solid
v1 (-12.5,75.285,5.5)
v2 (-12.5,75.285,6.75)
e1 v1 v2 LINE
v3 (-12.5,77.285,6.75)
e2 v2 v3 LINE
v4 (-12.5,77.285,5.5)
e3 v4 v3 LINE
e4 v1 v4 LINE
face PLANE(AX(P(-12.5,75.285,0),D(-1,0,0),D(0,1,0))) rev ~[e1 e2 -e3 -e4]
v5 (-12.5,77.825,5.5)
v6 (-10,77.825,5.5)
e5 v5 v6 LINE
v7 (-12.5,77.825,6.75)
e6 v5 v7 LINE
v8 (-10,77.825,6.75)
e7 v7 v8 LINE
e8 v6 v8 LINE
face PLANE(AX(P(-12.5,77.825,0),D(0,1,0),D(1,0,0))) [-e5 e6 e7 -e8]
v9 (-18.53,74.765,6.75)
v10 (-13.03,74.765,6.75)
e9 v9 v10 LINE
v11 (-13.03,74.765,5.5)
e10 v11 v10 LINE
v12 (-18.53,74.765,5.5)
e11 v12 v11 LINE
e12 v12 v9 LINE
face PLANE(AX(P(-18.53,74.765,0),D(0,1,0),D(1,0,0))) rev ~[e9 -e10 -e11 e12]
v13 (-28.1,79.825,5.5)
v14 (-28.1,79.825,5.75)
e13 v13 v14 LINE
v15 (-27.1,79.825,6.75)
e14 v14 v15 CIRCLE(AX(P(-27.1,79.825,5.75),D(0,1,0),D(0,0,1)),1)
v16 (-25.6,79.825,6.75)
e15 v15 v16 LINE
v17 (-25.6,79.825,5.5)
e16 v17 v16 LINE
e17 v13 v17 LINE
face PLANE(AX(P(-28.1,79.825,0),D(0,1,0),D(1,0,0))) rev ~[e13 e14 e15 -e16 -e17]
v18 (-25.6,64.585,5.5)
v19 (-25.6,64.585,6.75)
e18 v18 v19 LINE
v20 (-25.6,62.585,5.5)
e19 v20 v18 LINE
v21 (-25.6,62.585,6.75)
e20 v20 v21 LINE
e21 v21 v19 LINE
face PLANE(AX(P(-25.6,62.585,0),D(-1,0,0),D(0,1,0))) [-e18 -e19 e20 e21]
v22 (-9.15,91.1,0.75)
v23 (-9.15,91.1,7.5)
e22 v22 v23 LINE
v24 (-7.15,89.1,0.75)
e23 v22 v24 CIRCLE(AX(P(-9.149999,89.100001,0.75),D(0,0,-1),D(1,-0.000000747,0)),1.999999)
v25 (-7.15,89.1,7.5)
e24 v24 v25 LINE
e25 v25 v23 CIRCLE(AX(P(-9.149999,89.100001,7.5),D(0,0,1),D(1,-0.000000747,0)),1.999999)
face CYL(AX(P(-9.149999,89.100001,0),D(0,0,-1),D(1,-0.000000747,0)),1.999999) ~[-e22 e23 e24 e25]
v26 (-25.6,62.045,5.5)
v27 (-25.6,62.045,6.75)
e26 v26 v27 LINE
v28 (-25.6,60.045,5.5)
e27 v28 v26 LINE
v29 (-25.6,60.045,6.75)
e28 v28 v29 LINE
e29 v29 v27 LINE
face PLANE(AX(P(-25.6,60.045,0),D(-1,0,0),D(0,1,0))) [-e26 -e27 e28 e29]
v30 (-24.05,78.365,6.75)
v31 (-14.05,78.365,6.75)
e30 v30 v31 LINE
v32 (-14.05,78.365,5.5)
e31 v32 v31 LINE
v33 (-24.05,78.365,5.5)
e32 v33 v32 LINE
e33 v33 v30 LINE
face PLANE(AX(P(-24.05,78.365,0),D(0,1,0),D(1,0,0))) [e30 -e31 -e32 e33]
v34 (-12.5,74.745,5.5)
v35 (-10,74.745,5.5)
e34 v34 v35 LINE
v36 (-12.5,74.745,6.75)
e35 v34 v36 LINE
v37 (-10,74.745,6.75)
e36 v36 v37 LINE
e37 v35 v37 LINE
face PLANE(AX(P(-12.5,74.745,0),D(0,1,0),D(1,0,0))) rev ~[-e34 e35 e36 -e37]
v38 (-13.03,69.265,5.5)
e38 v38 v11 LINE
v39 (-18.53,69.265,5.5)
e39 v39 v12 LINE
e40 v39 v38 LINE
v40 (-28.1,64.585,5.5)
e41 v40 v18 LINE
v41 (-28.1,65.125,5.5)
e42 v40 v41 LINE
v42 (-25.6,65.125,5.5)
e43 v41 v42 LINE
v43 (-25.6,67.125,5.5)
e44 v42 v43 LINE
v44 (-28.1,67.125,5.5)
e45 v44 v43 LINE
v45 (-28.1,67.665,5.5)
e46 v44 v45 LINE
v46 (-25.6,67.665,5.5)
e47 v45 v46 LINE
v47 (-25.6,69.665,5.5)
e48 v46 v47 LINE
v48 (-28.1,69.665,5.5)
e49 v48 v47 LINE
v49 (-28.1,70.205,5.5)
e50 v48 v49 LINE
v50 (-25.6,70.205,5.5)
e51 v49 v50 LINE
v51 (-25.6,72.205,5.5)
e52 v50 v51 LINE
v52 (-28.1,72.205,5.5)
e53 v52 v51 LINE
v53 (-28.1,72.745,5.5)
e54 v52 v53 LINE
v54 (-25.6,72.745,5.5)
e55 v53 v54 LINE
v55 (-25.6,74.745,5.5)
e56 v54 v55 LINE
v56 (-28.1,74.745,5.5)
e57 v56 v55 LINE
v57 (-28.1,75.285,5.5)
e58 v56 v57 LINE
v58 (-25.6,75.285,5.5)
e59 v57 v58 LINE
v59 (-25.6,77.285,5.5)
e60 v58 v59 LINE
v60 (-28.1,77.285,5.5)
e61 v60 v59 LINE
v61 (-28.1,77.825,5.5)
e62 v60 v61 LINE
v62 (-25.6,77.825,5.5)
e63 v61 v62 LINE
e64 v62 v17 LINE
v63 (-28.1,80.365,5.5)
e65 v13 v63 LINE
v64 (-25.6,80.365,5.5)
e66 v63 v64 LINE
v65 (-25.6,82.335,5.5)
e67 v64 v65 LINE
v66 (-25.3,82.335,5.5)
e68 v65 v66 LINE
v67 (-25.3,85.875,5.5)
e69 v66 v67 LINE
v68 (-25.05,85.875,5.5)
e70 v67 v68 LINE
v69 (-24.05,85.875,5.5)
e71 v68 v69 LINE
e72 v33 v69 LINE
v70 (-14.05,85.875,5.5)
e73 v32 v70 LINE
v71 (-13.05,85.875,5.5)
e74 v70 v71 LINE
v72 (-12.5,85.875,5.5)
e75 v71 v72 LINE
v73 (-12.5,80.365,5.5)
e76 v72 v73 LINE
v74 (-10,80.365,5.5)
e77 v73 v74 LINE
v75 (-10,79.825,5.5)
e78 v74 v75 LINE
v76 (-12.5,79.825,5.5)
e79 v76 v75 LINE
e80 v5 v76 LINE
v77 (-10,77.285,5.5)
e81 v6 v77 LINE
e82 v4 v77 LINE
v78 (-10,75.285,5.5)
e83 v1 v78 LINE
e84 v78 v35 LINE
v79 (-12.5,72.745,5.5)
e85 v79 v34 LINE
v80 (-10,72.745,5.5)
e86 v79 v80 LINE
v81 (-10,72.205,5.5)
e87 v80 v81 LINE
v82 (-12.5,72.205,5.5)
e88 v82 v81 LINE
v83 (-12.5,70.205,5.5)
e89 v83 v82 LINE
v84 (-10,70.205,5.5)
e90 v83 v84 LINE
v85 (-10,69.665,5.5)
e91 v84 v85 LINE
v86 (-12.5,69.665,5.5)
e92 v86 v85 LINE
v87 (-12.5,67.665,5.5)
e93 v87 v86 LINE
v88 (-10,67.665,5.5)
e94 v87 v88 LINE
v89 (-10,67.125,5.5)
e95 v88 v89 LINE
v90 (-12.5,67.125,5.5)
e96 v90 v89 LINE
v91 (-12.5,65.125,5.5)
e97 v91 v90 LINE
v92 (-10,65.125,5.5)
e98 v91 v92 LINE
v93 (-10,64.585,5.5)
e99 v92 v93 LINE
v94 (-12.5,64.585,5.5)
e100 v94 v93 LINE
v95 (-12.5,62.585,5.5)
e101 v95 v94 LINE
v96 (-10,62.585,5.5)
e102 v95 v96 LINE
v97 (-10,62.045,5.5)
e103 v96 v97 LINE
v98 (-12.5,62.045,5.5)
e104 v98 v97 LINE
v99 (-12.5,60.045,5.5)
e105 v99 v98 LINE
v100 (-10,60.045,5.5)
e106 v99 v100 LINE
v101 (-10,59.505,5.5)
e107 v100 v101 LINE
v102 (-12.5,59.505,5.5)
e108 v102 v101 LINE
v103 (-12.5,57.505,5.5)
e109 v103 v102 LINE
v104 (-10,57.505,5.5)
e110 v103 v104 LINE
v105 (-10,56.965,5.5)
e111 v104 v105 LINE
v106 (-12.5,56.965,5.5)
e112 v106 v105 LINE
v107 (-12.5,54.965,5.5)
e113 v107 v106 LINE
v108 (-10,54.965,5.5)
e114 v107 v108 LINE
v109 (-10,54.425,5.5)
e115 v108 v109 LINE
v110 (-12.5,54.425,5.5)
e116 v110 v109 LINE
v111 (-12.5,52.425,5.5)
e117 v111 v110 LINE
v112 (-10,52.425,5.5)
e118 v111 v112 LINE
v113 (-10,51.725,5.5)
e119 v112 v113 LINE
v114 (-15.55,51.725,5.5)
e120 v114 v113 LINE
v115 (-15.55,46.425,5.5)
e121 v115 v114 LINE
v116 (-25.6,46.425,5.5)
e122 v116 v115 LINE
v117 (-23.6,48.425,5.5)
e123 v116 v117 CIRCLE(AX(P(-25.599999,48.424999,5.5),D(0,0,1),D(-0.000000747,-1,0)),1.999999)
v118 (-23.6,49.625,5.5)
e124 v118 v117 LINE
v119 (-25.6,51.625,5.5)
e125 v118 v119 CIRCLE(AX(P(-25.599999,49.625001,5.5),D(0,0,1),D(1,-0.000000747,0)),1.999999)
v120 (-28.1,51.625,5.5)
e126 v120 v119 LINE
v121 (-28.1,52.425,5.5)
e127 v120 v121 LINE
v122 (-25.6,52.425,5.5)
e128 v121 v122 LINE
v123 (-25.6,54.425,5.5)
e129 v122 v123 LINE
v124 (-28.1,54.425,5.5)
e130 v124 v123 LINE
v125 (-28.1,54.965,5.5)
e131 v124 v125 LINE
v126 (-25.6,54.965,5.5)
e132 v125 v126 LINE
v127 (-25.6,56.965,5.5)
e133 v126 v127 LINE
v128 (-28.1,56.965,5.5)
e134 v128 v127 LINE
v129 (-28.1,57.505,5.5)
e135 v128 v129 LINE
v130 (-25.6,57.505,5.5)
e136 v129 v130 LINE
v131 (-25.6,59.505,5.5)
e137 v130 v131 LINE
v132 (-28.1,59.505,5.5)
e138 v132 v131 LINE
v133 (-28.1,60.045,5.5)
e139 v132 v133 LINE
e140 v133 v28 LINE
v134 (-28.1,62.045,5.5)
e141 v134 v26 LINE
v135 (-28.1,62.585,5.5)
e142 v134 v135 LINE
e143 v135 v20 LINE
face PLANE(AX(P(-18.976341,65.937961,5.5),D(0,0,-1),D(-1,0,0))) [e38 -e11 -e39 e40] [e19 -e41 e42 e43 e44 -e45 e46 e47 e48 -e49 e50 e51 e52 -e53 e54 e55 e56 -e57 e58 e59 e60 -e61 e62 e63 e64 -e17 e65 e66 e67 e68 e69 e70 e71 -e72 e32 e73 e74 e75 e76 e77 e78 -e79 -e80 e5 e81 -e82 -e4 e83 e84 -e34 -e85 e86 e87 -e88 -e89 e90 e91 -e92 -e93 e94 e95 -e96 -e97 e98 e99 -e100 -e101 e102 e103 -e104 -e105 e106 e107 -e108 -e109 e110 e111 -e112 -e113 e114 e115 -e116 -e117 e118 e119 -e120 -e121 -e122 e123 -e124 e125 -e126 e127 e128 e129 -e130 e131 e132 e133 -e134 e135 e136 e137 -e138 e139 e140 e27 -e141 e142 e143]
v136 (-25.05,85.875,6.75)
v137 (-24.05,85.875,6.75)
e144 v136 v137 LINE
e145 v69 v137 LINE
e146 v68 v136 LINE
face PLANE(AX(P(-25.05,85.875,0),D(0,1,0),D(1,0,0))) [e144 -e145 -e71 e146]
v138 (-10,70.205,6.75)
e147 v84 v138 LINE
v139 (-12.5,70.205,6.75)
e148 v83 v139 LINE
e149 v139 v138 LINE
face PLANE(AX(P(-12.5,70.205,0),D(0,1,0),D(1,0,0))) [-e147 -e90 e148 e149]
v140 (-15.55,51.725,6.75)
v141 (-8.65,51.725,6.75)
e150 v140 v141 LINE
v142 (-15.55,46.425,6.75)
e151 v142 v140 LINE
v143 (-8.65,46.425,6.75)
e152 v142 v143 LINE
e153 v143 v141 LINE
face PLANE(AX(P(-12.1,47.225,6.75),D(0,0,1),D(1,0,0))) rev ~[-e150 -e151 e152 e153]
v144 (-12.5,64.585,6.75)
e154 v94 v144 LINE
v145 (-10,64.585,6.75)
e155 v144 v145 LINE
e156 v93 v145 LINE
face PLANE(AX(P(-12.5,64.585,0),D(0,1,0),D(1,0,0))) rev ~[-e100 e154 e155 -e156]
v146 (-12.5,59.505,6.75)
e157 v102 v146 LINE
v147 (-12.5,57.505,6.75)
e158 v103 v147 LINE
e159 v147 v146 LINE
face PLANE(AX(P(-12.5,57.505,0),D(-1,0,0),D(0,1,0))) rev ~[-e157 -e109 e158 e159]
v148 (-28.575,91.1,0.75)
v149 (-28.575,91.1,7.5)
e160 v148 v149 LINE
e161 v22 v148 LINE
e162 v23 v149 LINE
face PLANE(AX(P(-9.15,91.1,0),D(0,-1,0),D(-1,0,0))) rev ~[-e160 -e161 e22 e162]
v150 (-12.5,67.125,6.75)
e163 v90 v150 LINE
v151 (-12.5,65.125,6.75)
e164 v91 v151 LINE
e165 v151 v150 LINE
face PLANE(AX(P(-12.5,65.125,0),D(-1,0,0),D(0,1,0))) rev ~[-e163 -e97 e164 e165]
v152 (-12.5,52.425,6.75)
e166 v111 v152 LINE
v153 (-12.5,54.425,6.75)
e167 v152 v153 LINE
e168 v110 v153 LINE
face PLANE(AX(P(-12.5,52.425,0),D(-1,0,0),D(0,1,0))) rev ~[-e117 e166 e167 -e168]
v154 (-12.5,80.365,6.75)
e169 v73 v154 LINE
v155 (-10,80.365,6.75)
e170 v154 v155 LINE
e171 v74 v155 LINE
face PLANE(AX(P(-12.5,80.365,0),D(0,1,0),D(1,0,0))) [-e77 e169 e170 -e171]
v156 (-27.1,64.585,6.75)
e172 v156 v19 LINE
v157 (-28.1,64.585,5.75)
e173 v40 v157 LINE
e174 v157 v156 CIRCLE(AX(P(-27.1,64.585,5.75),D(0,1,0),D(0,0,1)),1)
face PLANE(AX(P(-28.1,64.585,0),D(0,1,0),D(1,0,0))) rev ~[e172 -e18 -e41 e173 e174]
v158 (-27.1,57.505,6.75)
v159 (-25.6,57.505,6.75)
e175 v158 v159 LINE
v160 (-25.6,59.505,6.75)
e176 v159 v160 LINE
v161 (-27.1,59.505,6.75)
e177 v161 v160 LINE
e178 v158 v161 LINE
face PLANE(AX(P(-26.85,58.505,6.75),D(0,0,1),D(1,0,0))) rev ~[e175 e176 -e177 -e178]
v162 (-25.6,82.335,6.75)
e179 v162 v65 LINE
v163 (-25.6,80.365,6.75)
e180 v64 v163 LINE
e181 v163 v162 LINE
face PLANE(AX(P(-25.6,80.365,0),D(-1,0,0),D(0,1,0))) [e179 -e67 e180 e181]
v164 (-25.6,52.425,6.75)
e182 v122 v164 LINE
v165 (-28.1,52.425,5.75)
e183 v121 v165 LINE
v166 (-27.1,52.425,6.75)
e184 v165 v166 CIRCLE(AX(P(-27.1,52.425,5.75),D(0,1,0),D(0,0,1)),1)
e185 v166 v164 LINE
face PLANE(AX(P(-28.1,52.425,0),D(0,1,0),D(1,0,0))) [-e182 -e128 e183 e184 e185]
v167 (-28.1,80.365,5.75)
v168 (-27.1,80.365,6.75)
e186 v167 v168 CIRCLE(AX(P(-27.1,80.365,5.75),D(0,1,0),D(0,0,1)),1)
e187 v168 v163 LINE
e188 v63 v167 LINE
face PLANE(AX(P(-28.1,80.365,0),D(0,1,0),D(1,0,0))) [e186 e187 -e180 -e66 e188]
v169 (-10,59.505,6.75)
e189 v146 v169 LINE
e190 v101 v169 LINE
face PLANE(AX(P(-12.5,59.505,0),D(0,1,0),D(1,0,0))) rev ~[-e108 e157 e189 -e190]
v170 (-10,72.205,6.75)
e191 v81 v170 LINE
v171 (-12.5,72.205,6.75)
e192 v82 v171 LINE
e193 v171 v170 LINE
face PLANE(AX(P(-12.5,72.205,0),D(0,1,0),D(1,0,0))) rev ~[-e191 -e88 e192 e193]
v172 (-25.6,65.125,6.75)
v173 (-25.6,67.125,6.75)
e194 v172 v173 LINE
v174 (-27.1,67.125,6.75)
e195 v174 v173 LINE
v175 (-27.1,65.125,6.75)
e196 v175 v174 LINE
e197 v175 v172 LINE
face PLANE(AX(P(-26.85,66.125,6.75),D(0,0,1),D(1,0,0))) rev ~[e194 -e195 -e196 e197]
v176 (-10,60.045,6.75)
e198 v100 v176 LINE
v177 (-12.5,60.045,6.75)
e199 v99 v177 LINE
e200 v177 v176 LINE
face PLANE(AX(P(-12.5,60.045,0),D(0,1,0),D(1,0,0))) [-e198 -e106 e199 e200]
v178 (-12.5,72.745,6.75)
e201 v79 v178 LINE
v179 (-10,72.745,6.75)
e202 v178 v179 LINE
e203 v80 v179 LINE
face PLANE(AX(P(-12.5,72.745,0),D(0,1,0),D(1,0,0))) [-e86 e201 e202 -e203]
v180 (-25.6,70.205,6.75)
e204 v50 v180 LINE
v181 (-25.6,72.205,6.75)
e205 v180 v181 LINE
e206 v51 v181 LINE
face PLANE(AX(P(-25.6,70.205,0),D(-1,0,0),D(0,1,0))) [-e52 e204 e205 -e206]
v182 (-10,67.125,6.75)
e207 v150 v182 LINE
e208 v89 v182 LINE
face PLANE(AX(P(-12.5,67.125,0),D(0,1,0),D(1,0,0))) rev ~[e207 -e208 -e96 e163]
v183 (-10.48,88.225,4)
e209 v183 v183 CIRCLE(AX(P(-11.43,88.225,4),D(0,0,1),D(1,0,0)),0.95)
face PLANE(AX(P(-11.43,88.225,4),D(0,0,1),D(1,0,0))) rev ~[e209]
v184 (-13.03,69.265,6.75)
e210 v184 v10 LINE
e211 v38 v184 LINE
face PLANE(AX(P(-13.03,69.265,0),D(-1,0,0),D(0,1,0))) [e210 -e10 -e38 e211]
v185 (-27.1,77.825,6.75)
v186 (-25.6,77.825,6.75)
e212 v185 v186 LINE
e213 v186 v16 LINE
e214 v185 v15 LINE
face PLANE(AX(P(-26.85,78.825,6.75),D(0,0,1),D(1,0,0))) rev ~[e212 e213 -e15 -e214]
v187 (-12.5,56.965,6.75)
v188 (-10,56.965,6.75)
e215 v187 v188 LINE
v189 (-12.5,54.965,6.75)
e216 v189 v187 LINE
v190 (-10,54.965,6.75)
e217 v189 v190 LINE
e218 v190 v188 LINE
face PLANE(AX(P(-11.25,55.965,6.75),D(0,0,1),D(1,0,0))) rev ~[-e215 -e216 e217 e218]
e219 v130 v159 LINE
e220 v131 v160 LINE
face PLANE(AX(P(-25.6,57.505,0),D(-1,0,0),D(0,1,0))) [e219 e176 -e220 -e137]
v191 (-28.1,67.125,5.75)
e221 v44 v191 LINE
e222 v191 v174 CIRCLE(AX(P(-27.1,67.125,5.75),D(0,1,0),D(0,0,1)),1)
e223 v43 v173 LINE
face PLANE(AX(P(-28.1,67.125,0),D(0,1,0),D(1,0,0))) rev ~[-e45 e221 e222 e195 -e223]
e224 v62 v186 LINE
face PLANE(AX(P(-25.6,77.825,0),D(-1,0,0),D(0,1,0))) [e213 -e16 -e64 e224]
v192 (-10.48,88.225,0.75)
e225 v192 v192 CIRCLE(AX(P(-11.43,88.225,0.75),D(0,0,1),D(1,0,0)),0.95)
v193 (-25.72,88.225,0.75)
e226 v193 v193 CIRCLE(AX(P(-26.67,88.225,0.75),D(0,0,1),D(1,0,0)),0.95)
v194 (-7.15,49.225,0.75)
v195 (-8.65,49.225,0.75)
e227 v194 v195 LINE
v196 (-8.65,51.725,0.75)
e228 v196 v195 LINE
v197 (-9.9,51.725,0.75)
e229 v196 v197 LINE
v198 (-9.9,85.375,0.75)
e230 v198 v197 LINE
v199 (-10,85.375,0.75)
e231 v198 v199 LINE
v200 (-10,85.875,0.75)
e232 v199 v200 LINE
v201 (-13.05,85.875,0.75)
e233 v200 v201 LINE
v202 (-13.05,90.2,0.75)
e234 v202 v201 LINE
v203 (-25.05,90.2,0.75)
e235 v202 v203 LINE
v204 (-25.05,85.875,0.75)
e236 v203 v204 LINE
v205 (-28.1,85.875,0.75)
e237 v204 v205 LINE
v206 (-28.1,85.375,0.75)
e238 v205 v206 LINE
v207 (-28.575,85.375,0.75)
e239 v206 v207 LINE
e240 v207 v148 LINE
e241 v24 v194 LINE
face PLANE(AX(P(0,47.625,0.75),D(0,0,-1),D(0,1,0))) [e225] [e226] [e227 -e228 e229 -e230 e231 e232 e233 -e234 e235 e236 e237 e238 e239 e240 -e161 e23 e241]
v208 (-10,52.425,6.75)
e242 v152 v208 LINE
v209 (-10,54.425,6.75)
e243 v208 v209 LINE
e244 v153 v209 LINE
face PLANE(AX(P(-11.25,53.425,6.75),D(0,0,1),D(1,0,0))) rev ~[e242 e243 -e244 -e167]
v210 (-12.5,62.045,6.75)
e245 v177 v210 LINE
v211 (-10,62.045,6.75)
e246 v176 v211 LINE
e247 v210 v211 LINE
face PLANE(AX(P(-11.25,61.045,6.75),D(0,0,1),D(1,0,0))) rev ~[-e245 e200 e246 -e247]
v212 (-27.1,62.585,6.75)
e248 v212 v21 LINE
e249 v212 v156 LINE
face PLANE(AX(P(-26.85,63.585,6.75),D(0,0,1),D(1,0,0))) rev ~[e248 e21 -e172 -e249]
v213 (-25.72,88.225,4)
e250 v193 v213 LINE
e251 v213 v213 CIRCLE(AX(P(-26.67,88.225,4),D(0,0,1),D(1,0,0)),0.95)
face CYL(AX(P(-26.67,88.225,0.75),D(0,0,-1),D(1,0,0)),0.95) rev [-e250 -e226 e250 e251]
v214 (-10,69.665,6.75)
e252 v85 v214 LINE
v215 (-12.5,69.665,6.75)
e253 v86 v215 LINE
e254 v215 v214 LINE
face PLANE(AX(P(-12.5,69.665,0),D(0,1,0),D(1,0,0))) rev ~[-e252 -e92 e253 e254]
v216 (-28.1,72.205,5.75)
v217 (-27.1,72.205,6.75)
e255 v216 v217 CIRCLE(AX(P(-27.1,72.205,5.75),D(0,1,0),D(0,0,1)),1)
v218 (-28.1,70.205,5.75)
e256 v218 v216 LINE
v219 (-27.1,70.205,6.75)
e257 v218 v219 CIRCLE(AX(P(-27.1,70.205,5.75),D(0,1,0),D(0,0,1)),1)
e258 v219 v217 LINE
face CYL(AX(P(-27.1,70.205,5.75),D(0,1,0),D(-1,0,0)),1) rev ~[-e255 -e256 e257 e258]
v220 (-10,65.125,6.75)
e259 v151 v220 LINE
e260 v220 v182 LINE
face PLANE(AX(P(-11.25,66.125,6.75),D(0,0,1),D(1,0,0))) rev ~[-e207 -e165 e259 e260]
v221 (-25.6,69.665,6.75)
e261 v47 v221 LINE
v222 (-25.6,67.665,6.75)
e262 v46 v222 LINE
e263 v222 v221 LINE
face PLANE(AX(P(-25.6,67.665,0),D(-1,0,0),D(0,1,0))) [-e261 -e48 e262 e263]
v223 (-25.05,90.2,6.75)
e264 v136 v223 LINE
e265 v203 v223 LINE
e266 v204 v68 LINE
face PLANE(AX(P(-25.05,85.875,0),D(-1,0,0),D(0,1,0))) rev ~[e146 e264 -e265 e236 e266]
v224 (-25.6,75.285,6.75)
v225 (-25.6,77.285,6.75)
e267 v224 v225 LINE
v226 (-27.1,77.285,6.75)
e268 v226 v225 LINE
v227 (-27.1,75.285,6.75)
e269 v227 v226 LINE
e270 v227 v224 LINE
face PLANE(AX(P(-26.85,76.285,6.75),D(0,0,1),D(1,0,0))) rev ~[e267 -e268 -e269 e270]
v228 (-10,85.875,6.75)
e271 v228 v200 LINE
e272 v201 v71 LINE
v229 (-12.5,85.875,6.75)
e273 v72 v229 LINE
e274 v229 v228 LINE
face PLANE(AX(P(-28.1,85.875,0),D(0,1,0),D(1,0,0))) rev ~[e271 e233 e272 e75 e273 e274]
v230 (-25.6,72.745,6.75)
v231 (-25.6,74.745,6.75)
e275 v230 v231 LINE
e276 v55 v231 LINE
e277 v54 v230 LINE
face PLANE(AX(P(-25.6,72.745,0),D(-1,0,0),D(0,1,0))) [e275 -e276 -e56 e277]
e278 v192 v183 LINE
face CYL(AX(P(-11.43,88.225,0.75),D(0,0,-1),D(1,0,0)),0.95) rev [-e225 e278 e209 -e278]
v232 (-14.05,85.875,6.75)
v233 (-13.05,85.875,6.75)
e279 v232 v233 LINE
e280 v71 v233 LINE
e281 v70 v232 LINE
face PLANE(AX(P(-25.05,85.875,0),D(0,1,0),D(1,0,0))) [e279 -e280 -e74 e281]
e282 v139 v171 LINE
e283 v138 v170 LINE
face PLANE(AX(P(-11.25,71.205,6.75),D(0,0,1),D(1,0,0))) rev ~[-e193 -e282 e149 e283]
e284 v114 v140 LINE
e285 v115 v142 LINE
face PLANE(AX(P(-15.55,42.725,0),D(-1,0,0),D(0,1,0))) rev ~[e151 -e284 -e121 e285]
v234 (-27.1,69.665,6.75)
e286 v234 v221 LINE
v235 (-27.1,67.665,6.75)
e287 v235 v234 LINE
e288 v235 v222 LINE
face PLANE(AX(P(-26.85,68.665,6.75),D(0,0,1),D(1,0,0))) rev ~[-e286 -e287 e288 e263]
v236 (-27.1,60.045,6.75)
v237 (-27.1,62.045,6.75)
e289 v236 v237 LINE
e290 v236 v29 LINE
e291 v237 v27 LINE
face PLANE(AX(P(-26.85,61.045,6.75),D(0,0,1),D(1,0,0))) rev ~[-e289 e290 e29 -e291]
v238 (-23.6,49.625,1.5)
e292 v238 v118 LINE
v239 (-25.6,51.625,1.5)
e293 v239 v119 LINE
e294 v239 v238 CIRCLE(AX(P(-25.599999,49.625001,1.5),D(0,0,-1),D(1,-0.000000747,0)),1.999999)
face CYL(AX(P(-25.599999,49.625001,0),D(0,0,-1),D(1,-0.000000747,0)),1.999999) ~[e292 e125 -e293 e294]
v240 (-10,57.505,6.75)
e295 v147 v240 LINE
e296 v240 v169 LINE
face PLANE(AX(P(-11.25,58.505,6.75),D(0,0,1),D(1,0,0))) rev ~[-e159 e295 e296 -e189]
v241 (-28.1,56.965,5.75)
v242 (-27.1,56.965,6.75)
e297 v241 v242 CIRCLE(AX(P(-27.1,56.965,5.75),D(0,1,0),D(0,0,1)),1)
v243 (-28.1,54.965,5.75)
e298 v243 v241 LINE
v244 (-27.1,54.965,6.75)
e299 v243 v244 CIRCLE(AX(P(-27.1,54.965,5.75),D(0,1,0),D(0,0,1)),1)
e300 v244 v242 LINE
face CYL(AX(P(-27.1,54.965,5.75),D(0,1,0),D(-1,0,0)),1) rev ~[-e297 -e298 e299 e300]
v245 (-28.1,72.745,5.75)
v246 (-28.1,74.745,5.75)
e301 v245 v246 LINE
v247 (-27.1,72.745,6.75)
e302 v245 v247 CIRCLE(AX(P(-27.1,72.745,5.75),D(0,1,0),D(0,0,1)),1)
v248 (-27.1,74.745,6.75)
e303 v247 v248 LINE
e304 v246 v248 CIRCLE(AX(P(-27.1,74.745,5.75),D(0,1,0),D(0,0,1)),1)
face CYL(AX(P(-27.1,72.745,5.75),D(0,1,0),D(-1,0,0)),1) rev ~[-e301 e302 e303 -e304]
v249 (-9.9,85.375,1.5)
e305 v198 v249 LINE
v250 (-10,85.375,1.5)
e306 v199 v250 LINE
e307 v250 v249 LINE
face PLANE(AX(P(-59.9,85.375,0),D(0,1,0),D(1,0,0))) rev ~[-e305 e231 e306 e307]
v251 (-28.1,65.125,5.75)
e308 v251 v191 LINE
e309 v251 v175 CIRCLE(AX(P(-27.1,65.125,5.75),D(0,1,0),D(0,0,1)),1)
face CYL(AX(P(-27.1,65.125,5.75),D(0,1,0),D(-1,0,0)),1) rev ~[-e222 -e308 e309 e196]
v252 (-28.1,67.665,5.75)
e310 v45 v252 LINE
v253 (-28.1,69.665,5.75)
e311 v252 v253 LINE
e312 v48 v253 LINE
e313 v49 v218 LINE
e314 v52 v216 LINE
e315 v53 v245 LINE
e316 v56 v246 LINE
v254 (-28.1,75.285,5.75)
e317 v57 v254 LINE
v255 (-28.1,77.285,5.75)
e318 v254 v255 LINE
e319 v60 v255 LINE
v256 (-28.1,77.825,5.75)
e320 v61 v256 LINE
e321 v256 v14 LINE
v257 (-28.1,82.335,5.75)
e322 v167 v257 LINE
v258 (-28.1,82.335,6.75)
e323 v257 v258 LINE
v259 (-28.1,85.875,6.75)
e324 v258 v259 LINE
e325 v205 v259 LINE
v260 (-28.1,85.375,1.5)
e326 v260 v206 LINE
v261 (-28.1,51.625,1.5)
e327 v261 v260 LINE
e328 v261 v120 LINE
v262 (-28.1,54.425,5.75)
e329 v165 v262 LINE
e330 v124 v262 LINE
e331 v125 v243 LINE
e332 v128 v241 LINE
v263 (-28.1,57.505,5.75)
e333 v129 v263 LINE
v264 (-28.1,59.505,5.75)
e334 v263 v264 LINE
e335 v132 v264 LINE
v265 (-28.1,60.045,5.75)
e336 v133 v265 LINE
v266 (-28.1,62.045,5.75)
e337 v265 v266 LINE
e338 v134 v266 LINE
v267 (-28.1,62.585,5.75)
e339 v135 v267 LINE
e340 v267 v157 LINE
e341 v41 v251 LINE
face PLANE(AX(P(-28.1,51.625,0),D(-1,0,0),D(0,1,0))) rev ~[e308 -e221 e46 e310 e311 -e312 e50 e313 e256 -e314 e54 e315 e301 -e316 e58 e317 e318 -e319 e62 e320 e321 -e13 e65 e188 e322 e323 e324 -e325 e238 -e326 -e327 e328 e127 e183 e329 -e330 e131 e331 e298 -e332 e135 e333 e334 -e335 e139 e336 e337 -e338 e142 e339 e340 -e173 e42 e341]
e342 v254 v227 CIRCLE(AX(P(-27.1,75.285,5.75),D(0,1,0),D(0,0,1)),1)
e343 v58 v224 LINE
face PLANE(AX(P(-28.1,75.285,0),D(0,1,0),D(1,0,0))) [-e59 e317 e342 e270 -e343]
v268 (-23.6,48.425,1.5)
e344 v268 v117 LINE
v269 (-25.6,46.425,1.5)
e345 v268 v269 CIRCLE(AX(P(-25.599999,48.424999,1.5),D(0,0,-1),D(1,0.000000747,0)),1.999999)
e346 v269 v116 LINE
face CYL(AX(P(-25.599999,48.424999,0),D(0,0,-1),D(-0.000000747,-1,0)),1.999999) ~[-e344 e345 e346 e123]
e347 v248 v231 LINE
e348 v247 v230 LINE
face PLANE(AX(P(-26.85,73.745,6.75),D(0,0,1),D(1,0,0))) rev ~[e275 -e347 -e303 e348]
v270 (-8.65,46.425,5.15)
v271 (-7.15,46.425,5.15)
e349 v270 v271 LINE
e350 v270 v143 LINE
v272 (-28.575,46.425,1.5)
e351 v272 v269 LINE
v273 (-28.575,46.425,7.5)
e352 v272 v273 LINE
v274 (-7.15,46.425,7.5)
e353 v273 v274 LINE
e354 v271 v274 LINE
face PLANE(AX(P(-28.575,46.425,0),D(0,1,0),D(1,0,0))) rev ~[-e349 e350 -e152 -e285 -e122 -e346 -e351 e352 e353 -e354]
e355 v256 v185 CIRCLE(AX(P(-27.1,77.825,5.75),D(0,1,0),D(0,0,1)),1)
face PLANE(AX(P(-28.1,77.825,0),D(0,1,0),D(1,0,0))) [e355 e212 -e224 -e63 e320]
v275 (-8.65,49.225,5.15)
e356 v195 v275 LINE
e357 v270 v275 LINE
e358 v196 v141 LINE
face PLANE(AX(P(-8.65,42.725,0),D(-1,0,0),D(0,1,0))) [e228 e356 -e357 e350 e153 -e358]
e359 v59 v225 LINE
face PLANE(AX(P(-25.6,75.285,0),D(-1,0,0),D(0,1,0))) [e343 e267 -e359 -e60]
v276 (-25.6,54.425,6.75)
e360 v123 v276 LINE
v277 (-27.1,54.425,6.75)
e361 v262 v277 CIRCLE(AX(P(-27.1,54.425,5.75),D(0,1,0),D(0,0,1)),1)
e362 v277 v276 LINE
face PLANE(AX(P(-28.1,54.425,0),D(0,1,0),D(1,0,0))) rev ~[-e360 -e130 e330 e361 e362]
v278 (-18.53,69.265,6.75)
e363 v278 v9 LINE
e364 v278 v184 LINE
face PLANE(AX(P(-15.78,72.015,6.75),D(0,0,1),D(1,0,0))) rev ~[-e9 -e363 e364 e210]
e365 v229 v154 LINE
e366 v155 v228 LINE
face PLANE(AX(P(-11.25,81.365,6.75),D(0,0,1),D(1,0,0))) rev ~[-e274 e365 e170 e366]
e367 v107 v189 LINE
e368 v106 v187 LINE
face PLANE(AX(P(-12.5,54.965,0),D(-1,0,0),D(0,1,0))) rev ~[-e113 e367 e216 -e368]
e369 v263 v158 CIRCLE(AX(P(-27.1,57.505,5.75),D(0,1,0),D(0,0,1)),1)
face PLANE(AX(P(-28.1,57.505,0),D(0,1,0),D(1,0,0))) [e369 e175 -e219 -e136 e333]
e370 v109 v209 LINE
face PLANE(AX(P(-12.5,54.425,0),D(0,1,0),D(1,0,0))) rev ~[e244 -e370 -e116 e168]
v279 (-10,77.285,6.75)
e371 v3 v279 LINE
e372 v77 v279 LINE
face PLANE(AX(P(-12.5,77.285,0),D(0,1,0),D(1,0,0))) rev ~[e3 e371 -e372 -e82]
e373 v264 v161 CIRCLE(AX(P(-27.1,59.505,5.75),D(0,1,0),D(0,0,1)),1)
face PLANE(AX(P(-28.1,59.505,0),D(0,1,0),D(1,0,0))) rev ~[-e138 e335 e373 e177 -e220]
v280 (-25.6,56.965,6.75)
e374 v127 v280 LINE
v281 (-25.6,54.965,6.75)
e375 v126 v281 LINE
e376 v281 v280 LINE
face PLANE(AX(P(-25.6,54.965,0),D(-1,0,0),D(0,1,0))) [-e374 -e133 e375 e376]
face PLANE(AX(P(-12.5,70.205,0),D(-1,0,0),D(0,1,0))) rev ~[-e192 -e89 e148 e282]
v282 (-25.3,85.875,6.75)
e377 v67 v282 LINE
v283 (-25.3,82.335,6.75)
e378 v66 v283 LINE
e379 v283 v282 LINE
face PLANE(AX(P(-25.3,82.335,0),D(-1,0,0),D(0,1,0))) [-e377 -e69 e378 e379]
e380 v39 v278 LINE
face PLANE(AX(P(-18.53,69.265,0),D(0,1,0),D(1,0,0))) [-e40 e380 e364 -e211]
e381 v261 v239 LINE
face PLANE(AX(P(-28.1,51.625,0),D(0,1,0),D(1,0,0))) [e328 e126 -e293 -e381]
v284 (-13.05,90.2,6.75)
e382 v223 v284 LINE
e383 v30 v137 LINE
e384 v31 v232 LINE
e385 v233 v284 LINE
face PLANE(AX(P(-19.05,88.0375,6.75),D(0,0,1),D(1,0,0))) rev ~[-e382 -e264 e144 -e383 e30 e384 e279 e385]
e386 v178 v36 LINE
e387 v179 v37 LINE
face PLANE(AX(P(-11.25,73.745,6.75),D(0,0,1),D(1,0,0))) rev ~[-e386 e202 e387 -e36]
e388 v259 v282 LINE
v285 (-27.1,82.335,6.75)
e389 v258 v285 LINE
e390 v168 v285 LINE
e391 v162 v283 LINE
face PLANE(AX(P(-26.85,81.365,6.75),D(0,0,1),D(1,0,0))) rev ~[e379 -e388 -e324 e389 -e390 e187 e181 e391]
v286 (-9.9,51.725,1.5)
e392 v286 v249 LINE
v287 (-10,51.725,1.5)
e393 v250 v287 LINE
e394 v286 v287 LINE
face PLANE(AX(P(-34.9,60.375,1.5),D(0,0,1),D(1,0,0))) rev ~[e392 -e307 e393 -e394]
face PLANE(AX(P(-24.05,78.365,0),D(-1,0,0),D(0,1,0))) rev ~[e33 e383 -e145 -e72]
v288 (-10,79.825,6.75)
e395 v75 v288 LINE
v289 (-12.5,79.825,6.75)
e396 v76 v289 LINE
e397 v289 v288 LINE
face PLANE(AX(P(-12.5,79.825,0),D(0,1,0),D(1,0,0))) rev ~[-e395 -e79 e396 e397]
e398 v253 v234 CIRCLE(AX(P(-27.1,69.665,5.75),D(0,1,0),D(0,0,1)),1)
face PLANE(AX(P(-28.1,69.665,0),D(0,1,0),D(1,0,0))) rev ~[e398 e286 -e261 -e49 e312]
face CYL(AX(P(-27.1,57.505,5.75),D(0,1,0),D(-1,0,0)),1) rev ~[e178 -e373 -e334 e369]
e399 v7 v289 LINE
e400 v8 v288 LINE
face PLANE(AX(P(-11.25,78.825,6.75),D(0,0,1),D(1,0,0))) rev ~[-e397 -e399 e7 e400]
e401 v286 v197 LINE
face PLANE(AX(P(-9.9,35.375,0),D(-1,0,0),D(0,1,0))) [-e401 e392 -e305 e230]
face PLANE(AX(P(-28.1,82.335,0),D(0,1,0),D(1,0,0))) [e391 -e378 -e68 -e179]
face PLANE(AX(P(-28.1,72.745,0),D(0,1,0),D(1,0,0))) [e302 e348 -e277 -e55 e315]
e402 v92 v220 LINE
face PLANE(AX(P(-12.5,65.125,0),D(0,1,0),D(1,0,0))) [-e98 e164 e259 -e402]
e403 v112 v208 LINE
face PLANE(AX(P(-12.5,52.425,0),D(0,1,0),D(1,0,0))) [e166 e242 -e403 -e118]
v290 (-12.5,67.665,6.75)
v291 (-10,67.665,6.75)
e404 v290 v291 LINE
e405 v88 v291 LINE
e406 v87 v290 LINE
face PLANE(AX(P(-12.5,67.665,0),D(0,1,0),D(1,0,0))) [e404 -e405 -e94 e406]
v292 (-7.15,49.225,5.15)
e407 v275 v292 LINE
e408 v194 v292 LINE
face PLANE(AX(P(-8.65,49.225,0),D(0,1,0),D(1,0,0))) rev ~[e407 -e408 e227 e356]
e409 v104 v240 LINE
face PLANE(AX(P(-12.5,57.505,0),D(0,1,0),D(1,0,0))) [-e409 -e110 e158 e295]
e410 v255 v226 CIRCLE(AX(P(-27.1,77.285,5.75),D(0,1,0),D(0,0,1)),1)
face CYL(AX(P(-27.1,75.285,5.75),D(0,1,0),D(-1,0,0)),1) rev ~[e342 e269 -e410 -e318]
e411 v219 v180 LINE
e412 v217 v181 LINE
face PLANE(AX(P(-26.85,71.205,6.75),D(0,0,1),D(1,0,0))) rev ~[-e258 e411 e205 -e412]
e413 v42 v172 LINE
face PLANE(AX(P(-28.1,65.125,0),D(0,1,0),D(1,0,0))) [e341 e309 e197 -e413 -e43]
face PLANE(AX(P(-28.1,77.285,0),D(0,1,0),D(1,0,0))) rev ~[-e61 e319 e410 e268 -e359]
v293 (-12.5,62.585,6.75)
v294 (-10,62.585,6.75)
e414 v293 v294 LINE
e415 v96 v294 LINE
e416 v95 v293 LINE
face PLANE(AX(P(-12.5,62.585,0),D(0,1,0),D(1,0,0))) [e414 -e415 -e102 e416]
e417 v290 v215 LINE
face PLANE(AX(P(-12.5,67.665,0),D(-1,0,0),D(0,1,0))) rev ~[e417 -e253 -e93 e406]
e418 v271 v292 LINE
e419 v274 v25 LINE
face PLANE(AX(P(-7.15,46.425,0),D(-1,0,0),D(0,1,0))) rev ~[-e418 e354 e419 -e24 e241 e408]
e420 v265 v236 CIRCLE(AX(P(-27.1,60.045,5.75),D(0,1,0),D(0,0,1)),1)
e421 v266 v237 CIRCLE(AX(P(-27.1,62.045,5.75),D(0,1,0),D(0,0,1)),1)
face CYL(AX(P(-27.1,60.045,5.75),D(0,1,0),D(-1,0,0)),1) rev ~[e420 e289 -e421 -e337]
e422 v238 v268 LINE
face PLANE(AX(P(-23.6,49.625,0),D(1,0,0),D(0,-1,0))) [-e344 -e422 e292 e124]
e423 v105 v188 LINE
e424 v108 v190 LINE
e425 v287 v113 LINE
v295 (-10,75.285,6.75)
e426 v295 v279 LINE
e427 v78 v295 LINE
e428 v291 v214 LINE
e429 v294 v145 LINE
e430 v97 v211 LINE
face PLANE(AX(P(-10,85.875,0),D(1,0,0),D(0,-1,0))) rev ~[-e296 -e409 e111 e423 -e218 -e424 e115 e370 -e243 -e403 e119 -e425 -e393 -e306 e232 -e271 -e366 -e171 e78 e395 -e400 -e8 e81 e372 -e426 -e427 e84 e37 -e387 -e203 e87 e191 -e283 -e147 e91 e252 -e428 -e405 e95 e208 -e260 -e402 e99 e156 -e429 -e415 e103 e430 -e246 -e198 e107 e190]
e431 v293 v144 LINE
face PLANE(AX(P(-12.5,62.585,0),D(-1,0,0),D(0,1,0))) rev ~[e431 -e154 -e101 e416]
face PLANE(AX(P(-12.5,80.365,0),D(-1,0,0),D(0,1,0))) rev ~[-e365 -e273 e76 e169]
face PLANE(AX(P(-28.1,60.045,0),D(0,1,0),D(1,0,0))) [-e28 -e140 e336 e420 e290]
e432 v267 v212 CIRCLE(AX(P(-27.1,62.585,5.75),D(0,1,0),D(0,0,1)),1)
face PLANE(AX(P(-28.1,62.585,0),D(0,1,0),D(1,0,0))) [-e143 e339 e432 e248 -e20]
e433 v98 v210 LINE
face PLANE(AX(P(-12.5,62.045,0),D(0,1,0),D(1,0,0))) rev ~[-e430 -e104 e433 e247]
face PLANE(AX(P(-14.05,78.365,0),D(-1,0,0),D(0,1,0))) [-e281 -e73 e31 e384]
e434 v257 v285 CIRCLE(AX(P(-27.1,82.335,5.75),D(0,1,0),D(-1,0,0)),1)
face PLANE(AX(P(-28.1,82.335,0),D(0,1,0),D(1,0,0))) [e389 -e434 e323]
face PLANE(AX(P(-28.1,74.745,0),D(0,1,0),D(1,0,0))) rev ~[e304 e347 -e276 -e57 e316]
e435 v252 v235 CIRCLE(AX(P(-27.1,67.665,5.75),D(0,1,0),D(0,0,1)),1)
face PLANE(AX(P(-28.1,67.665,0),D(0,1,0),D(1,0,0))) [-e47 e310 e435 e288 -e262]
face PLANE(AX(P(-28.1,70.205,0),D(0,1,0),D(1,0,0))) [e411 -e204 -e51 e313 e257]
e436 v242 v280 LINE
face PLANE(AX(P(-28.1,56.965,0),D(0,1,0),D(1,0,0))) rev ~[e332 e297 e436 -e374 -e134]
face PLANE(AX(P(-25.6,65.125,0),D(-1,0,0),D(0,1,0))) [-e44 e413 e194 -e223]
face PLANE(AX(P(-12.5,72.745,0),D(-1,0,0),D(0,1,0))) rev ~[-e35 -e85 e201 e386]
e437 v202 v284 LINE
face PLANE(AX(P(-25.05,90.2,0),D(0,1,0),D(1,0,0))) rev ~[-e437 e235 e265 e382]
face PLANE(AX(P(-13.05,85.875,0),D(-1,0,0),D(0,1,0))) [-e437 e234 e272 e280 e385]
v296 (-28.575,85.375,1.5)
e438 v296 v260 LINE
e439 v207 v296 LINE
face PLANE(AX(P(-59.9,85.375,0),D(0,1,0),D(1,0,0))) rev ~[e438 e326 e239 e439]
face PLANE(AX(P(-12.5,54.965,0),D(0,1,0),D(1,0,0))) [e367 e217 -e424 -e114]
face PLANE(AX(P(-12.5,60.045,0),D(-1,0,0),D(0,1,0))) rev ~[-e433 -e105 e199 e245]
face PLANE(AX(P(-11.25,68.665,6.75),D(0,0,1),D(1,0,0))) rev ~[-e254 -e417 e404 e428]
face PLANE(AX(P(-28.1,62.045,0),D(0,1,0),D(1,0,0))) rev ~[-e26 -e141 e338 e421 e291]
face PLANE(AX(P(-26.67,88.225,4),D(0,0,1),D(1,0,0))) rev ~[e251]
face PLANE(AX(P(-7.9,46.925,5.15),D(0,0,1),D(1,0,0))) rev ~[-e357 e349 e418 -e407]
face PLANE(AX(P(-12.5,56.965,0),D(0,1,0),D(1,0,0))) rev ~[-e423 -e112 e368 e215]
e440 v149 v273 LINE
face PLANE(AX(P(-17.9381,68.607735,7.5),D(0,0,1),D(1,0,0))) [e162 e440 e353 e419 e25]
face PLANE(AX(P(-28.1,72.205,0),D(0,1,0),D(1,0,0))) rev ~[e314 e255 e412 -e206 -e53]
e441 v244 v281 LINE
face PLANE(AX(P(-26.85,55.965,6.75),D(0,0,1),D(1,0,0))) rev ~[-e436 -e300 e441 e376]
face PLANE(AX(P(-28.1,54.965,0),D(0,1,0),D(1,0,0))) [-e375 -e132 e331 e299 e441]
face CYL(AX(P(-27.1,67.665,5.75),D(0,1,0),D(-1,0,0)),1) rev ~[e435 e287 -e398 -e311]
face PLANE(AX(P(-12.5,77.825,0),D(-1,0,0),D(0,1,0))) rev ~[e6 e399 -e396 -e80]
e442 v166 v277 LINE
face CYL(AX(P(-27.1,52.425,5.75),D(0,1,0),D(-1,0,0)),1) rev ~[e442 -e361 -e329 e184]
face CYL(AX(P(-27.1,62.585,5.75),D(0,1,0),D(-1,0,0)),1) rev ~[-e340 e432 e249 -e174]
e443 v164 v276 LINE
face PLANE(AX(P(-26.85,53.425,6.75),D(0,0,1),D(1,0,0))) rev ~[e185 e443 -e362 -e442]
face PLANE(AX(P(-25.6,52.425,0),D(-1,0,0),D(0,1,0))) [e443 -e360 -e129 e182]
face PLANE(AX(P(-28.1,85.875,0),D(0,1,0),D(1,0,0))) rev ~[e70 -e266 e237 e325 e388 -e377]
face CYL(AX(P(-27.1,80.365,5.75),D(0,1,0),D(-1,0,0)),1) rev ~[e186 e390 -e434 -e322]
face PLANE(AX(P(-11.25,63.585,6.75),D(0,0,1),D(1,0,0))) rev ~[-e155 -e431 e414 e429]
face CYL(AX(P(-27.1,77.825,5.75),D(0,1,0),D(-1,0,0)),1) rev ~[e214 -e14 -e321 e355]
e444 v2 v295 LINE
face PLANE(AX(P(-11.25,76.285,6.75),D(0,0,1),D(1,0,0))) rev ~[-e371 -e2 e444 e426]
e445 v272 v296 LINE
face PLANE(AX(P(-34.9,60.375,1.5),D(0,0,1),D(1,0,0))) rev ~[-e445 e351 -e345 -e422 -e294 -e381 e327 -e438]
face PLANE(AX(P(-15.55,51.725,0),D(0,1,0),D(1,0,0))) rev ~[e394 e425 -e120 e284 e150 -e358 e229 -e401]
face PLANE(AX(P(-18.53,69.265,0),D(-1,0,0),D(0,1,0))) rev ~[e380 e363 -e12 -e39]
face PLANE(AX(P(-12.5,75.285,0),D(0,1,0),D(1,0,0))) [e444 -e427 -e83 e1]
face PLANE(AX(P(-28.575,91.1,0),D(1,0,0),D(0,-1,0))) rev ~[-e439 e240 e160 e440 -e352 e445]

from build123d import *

# Parameters (mm, degrees)
PAD016_DEPTH    = 7.5
POCKET029_DEPTH = 5.5
SKETCH103_W     = 12
SKETCH103_H     = 4.325
POCKET069_DEPTH = 6.75
SKETCH047_W     = 50
SKETCH047_H     = 50
POCKET028_DEPTH = 1.5
SKETCH059_W     = 10
SKETCH059_H     = 8
SKETCH059_W_2   = 5.5
SKETCH059_H_2   = 5.5
SKETCH059_W_3   = 6.9
SKETCH059_H_3   = 9
SKETCH059_W_4   = 2.5
SKETCH059_H_4   = 2
POCKET033_DEPTH = 6.75
FILLET010_R     = 1
SKETCH086_W     = 2.5
SKETCH086_H     = 3.54
SKETCH086_W_2   = 2.8
POCKET057_DEPTH = 6.75
SKETCH082_W     = 1.5
SKETCH082_H     = 4.6
POCKET053_DEPTH = 5.15
SKETCH090_W     = 43.475
SKETCH090_H     = 0.75
POCKET059_DEPTH = 28.576
SKETCH092_W     = 37.75
SKETCH092_H     = 0.75
POCKET061_DEPTH = 9.526
SKETCH058_R     = 0.95
POCKET043_DEPTH = 3.25


with BuildPart() as part:
    # Sketch048 → Pad016 (new body)
    with BuildSketch(Plane.XY):
        with BuildLine():
            Line((-28.575, 91.1), (-28.575, 46.425))
            Line((-28.575, 46.425), (-7.15, 46.425))
            Line((-7.15, 46.425), (-7.15, 89.1))
            ThreePointArc((-7.15, 89.1), (-7.735786, 90.514214), (-9.15, 91.1))
            Line((-9.15, 91.1), (-28.575, 91.1))
        make_face()
    extrude(amount=PAD016_DEPTH)

    # Sketch052 → Pocket029 (cut)
    with BuildSketch(Plane.XY):
        with BuildLine():
            Line((-28.1, 51.625), (-28.1, 85.875))
            Line((-28.1, 85.875), (-10, 85.875))
            Line((-10, 85.875), (-10, 46.425))
            Line((-25.6, 46.425), (-10, 46.425))
            ThreePointArc((-25.6, 46.425), (-24.185786, 47.010786), (-23.6, 48.425))
            Line((-23.6, 49.625), (-23.6, 48.425))
            ThreePointArc((-23.6, 49.625), (-24.185786, 51.039214), (-25.6, 51.625))
            Line((-28.1, 51.625), (-25.6, 51.625))
        make_face()
    extrude(amount=POCKET029_DEPTH, mode=Mode.SUBTRACT)

    # Sketch103 → Pocket069 (cut)
    with BuildSketch(Plane.XY):
        with Locations((-19.05, 88.0375)):
            Rectangle(SKETCH103_W, SKETCH103_H)
    extrude(amount=POCKET069_DEPTH, mode=Mode.SUBTRACT)

    # Sketch047 → Pocket028 (cut)
    with BuildSketch(Plane.XY):
        with Locations((-34.9, 60.375)):
            Rectangle(SKETCH047_W, SKETCH047_H)
    extrude(amount=POCKET028_DEPTH, mode=Mode.SUBTRACT)

    # Sketch059 → Pocket033 (cut)
    with BuildSketch(Plane.XY):
        with Locations((-19.05, 82.365)):
            Rectangle(SKETCH059_W, SKETCH059_H)
        with Locations((-15.78, 72.015)):
            Rectangle(SKETCH059_W_2, SKETCH059_H_2)
        with Locations((-12.1, 47.225)):
            Rectangle(SKETCH059_W_3, SKETCH059_H_3)
        with Locations((-11.25, 78.825)):
            Rectangle(SKETCH059_W_4, SKETCH059_H_4)
        with Locations((-11.25, 76.285)):
            Rectangle(SKETCH059_W_4, SKETCH059_H_4)
        with Locations((-11.25, 73.745)):
            Rectangle(SKETCH059_W_4, SKETCH059_H_4)
        with Locations((-11.25, 71.205)):
            Rectangle(SKETCH059_W_4, SKETCH059_H_4)
        with Locations((-11.25, 68.665)):
            Rectangle(SKETCH059_W_4, SKETCH059_H_4)
        with Locations((-11.25, 66.125)):
            Rectangle(SKETCH059_W_4, SKETCH059_H_4)
        with Locations((-11.25, 63.585)):
            Rectangle(SKETCH059_W_4, SKETCH059_H_4)
        with Locations((-11.25, 81.365)):
            Rectangle(SKETCH059_W_4, SKETCH059_H_4)
        with Locations((-11.25, 61.045)):
            Rectangle(SKETCH059_W_4, SKETCH059_H_4)
        with Locations((-11.25, 58.505)):
            Rectangle(SKETCH059_W_4, SKETCH059_H_4)
        with Locations((-11.25, 55.965)):
            Rectangle(SKETCH059_W_4, SKETCH059_H_4)
        with Locations((-11.25, 53.425)):
            Rectangle(SKETCH059_W_4, SKETCH059_H_4)
        with Locations((-26.85, 78.825)):
            Rectangle(SKETCH059_W_4, SKETCH059_H_4)
        with Locations((-26.85, 76.285)):
            Rectangle(SKETCH059_W_4, SKETCH059_H_4)
        with Locations((-26.85, 73.745)):
            Rectangle(SKETCH059_W_4, SKETCH059_H_4)
        with Locations((-26.85, 71.205)):
            Rectangle(SKETCH059_W_4, SKETCH059_H_4)
        with Locations((-26.85, 68.665)):
            Rectangle(SKETCH059_W_4, SKETCH059_H_4)
        with Locations((-26.85, 66.125)):
            Rectangle(SKETCH059_W_4, SKETCH059_H_4)
        with Locations((-26.85, 63.585)):
            Rectangle(SKETCH059_W_4, SKETCH059_H_4)
        with Locations((-26.85, 61.045)):
            Rectangle(SKETCH059_W_4, SKETCH059_H_4)
        with Locations((-26.85, 58.505)):
            Rectangle(SKETCH059_W_4, SKETCH059_H_4)
        with Locations((-26.85, 55.965)):
            Rectangle(SKETCH059_W_4, SKETCH059_H_4)
        with Locations((-26.85, 53.425)):
            Rectangle(SKETCH059_W_4, SKETCH059_H_4)
        with Locations((-26.85, 81.365)):
            Rectangle(SKETCH059_W_4, SKETCH059_H_4)
    extrude(amount=POCKET033_DEPTH, mode=Mode.SUBTRACT)

    # Fillet010
    fillet010_edges = [part.edges().sort_by_distance(p)[0] for p in [
        (-28.1, 53.425, 6.75),
        (-28.1, 55.965, 6.75),
        (-28.1, 58.505, 6.75),
        (-28.1, 61.045, 6.75),
        (-28.1, 63.585, 6.75),
        (-28.1, 66.125, 6.75),
        (-28.1, 68.665, 6.75),
        (-28.1, 71.205, 6.75),
        (-28.1, 73.745, 6.75),
        (-28.1, 76.285, 6.75),
        (-28.1, 78.825, 6.75),
        (-28.1, 81.365, 6.75),
    ]]
    fillet(fillet010_edges, radius=FILLET010_R)

    # Sketch086 → Pocket057 (cut)
    with BuildSketch(Plane.XY):
        with Locations((-11.25, 84.105)):
            Rectangle(SKETCH086_W, SKETCH086_H)
        with Locations((-26.7, 84.105)):
            Rectangle(SKETCH086_W_2, SKETCH086_H)
    extrude(amount=POCKET057_DEPTH, mode=Mode.SUBTRACT)

    # Sketch082 → Pocket053 (cut)
    with BuildSketch(Plane.XY):
        with Locations((-7.9, 46.925)):
            Rectangle(SKETCH082_W, SKETCH082_H)
    extrude(amount=POCKET053_DEPTH, mode=Mode.SUBTRACT)

    # Sketch090 → Pocket059 (cut, through all)
    with BuildSketch(Plane.YZ):
        with Locations((69.3625, 0.375)):
            Rectangle(SKETCH090_W, SKETCH090_H)
    extrude(amount=-POCKET059_DEPTH, mode=Mode.SUBTRACT)

    # Sketch092 → Pocket061 (cut, through all)
    with BuildSketch(Plane.YZ.offset(-19.05)):
        with Locations((66.5, 1.125)):
            Rectangle(SKETCH092_W, SKETCH092_H)
    extrude(amount=-POCKET061_DEPTH, mode=Mode.SUBTRACT)

    # Sketch058 (on Face9 of Pocket061) → Pocket043 (cut)
    with BuildSketch(Plane.XY.offset(0.75)):
        with Locations((-11.43, 88.225)):
            Circle(SKETCH058_R)
        with Locations((-26.67, 88.225)):
            Circle(SKETCH058_R)
    extrude(amount=POCKET043_DEPTH, mode=Mode.SUBTRACT)


solid = part.part
